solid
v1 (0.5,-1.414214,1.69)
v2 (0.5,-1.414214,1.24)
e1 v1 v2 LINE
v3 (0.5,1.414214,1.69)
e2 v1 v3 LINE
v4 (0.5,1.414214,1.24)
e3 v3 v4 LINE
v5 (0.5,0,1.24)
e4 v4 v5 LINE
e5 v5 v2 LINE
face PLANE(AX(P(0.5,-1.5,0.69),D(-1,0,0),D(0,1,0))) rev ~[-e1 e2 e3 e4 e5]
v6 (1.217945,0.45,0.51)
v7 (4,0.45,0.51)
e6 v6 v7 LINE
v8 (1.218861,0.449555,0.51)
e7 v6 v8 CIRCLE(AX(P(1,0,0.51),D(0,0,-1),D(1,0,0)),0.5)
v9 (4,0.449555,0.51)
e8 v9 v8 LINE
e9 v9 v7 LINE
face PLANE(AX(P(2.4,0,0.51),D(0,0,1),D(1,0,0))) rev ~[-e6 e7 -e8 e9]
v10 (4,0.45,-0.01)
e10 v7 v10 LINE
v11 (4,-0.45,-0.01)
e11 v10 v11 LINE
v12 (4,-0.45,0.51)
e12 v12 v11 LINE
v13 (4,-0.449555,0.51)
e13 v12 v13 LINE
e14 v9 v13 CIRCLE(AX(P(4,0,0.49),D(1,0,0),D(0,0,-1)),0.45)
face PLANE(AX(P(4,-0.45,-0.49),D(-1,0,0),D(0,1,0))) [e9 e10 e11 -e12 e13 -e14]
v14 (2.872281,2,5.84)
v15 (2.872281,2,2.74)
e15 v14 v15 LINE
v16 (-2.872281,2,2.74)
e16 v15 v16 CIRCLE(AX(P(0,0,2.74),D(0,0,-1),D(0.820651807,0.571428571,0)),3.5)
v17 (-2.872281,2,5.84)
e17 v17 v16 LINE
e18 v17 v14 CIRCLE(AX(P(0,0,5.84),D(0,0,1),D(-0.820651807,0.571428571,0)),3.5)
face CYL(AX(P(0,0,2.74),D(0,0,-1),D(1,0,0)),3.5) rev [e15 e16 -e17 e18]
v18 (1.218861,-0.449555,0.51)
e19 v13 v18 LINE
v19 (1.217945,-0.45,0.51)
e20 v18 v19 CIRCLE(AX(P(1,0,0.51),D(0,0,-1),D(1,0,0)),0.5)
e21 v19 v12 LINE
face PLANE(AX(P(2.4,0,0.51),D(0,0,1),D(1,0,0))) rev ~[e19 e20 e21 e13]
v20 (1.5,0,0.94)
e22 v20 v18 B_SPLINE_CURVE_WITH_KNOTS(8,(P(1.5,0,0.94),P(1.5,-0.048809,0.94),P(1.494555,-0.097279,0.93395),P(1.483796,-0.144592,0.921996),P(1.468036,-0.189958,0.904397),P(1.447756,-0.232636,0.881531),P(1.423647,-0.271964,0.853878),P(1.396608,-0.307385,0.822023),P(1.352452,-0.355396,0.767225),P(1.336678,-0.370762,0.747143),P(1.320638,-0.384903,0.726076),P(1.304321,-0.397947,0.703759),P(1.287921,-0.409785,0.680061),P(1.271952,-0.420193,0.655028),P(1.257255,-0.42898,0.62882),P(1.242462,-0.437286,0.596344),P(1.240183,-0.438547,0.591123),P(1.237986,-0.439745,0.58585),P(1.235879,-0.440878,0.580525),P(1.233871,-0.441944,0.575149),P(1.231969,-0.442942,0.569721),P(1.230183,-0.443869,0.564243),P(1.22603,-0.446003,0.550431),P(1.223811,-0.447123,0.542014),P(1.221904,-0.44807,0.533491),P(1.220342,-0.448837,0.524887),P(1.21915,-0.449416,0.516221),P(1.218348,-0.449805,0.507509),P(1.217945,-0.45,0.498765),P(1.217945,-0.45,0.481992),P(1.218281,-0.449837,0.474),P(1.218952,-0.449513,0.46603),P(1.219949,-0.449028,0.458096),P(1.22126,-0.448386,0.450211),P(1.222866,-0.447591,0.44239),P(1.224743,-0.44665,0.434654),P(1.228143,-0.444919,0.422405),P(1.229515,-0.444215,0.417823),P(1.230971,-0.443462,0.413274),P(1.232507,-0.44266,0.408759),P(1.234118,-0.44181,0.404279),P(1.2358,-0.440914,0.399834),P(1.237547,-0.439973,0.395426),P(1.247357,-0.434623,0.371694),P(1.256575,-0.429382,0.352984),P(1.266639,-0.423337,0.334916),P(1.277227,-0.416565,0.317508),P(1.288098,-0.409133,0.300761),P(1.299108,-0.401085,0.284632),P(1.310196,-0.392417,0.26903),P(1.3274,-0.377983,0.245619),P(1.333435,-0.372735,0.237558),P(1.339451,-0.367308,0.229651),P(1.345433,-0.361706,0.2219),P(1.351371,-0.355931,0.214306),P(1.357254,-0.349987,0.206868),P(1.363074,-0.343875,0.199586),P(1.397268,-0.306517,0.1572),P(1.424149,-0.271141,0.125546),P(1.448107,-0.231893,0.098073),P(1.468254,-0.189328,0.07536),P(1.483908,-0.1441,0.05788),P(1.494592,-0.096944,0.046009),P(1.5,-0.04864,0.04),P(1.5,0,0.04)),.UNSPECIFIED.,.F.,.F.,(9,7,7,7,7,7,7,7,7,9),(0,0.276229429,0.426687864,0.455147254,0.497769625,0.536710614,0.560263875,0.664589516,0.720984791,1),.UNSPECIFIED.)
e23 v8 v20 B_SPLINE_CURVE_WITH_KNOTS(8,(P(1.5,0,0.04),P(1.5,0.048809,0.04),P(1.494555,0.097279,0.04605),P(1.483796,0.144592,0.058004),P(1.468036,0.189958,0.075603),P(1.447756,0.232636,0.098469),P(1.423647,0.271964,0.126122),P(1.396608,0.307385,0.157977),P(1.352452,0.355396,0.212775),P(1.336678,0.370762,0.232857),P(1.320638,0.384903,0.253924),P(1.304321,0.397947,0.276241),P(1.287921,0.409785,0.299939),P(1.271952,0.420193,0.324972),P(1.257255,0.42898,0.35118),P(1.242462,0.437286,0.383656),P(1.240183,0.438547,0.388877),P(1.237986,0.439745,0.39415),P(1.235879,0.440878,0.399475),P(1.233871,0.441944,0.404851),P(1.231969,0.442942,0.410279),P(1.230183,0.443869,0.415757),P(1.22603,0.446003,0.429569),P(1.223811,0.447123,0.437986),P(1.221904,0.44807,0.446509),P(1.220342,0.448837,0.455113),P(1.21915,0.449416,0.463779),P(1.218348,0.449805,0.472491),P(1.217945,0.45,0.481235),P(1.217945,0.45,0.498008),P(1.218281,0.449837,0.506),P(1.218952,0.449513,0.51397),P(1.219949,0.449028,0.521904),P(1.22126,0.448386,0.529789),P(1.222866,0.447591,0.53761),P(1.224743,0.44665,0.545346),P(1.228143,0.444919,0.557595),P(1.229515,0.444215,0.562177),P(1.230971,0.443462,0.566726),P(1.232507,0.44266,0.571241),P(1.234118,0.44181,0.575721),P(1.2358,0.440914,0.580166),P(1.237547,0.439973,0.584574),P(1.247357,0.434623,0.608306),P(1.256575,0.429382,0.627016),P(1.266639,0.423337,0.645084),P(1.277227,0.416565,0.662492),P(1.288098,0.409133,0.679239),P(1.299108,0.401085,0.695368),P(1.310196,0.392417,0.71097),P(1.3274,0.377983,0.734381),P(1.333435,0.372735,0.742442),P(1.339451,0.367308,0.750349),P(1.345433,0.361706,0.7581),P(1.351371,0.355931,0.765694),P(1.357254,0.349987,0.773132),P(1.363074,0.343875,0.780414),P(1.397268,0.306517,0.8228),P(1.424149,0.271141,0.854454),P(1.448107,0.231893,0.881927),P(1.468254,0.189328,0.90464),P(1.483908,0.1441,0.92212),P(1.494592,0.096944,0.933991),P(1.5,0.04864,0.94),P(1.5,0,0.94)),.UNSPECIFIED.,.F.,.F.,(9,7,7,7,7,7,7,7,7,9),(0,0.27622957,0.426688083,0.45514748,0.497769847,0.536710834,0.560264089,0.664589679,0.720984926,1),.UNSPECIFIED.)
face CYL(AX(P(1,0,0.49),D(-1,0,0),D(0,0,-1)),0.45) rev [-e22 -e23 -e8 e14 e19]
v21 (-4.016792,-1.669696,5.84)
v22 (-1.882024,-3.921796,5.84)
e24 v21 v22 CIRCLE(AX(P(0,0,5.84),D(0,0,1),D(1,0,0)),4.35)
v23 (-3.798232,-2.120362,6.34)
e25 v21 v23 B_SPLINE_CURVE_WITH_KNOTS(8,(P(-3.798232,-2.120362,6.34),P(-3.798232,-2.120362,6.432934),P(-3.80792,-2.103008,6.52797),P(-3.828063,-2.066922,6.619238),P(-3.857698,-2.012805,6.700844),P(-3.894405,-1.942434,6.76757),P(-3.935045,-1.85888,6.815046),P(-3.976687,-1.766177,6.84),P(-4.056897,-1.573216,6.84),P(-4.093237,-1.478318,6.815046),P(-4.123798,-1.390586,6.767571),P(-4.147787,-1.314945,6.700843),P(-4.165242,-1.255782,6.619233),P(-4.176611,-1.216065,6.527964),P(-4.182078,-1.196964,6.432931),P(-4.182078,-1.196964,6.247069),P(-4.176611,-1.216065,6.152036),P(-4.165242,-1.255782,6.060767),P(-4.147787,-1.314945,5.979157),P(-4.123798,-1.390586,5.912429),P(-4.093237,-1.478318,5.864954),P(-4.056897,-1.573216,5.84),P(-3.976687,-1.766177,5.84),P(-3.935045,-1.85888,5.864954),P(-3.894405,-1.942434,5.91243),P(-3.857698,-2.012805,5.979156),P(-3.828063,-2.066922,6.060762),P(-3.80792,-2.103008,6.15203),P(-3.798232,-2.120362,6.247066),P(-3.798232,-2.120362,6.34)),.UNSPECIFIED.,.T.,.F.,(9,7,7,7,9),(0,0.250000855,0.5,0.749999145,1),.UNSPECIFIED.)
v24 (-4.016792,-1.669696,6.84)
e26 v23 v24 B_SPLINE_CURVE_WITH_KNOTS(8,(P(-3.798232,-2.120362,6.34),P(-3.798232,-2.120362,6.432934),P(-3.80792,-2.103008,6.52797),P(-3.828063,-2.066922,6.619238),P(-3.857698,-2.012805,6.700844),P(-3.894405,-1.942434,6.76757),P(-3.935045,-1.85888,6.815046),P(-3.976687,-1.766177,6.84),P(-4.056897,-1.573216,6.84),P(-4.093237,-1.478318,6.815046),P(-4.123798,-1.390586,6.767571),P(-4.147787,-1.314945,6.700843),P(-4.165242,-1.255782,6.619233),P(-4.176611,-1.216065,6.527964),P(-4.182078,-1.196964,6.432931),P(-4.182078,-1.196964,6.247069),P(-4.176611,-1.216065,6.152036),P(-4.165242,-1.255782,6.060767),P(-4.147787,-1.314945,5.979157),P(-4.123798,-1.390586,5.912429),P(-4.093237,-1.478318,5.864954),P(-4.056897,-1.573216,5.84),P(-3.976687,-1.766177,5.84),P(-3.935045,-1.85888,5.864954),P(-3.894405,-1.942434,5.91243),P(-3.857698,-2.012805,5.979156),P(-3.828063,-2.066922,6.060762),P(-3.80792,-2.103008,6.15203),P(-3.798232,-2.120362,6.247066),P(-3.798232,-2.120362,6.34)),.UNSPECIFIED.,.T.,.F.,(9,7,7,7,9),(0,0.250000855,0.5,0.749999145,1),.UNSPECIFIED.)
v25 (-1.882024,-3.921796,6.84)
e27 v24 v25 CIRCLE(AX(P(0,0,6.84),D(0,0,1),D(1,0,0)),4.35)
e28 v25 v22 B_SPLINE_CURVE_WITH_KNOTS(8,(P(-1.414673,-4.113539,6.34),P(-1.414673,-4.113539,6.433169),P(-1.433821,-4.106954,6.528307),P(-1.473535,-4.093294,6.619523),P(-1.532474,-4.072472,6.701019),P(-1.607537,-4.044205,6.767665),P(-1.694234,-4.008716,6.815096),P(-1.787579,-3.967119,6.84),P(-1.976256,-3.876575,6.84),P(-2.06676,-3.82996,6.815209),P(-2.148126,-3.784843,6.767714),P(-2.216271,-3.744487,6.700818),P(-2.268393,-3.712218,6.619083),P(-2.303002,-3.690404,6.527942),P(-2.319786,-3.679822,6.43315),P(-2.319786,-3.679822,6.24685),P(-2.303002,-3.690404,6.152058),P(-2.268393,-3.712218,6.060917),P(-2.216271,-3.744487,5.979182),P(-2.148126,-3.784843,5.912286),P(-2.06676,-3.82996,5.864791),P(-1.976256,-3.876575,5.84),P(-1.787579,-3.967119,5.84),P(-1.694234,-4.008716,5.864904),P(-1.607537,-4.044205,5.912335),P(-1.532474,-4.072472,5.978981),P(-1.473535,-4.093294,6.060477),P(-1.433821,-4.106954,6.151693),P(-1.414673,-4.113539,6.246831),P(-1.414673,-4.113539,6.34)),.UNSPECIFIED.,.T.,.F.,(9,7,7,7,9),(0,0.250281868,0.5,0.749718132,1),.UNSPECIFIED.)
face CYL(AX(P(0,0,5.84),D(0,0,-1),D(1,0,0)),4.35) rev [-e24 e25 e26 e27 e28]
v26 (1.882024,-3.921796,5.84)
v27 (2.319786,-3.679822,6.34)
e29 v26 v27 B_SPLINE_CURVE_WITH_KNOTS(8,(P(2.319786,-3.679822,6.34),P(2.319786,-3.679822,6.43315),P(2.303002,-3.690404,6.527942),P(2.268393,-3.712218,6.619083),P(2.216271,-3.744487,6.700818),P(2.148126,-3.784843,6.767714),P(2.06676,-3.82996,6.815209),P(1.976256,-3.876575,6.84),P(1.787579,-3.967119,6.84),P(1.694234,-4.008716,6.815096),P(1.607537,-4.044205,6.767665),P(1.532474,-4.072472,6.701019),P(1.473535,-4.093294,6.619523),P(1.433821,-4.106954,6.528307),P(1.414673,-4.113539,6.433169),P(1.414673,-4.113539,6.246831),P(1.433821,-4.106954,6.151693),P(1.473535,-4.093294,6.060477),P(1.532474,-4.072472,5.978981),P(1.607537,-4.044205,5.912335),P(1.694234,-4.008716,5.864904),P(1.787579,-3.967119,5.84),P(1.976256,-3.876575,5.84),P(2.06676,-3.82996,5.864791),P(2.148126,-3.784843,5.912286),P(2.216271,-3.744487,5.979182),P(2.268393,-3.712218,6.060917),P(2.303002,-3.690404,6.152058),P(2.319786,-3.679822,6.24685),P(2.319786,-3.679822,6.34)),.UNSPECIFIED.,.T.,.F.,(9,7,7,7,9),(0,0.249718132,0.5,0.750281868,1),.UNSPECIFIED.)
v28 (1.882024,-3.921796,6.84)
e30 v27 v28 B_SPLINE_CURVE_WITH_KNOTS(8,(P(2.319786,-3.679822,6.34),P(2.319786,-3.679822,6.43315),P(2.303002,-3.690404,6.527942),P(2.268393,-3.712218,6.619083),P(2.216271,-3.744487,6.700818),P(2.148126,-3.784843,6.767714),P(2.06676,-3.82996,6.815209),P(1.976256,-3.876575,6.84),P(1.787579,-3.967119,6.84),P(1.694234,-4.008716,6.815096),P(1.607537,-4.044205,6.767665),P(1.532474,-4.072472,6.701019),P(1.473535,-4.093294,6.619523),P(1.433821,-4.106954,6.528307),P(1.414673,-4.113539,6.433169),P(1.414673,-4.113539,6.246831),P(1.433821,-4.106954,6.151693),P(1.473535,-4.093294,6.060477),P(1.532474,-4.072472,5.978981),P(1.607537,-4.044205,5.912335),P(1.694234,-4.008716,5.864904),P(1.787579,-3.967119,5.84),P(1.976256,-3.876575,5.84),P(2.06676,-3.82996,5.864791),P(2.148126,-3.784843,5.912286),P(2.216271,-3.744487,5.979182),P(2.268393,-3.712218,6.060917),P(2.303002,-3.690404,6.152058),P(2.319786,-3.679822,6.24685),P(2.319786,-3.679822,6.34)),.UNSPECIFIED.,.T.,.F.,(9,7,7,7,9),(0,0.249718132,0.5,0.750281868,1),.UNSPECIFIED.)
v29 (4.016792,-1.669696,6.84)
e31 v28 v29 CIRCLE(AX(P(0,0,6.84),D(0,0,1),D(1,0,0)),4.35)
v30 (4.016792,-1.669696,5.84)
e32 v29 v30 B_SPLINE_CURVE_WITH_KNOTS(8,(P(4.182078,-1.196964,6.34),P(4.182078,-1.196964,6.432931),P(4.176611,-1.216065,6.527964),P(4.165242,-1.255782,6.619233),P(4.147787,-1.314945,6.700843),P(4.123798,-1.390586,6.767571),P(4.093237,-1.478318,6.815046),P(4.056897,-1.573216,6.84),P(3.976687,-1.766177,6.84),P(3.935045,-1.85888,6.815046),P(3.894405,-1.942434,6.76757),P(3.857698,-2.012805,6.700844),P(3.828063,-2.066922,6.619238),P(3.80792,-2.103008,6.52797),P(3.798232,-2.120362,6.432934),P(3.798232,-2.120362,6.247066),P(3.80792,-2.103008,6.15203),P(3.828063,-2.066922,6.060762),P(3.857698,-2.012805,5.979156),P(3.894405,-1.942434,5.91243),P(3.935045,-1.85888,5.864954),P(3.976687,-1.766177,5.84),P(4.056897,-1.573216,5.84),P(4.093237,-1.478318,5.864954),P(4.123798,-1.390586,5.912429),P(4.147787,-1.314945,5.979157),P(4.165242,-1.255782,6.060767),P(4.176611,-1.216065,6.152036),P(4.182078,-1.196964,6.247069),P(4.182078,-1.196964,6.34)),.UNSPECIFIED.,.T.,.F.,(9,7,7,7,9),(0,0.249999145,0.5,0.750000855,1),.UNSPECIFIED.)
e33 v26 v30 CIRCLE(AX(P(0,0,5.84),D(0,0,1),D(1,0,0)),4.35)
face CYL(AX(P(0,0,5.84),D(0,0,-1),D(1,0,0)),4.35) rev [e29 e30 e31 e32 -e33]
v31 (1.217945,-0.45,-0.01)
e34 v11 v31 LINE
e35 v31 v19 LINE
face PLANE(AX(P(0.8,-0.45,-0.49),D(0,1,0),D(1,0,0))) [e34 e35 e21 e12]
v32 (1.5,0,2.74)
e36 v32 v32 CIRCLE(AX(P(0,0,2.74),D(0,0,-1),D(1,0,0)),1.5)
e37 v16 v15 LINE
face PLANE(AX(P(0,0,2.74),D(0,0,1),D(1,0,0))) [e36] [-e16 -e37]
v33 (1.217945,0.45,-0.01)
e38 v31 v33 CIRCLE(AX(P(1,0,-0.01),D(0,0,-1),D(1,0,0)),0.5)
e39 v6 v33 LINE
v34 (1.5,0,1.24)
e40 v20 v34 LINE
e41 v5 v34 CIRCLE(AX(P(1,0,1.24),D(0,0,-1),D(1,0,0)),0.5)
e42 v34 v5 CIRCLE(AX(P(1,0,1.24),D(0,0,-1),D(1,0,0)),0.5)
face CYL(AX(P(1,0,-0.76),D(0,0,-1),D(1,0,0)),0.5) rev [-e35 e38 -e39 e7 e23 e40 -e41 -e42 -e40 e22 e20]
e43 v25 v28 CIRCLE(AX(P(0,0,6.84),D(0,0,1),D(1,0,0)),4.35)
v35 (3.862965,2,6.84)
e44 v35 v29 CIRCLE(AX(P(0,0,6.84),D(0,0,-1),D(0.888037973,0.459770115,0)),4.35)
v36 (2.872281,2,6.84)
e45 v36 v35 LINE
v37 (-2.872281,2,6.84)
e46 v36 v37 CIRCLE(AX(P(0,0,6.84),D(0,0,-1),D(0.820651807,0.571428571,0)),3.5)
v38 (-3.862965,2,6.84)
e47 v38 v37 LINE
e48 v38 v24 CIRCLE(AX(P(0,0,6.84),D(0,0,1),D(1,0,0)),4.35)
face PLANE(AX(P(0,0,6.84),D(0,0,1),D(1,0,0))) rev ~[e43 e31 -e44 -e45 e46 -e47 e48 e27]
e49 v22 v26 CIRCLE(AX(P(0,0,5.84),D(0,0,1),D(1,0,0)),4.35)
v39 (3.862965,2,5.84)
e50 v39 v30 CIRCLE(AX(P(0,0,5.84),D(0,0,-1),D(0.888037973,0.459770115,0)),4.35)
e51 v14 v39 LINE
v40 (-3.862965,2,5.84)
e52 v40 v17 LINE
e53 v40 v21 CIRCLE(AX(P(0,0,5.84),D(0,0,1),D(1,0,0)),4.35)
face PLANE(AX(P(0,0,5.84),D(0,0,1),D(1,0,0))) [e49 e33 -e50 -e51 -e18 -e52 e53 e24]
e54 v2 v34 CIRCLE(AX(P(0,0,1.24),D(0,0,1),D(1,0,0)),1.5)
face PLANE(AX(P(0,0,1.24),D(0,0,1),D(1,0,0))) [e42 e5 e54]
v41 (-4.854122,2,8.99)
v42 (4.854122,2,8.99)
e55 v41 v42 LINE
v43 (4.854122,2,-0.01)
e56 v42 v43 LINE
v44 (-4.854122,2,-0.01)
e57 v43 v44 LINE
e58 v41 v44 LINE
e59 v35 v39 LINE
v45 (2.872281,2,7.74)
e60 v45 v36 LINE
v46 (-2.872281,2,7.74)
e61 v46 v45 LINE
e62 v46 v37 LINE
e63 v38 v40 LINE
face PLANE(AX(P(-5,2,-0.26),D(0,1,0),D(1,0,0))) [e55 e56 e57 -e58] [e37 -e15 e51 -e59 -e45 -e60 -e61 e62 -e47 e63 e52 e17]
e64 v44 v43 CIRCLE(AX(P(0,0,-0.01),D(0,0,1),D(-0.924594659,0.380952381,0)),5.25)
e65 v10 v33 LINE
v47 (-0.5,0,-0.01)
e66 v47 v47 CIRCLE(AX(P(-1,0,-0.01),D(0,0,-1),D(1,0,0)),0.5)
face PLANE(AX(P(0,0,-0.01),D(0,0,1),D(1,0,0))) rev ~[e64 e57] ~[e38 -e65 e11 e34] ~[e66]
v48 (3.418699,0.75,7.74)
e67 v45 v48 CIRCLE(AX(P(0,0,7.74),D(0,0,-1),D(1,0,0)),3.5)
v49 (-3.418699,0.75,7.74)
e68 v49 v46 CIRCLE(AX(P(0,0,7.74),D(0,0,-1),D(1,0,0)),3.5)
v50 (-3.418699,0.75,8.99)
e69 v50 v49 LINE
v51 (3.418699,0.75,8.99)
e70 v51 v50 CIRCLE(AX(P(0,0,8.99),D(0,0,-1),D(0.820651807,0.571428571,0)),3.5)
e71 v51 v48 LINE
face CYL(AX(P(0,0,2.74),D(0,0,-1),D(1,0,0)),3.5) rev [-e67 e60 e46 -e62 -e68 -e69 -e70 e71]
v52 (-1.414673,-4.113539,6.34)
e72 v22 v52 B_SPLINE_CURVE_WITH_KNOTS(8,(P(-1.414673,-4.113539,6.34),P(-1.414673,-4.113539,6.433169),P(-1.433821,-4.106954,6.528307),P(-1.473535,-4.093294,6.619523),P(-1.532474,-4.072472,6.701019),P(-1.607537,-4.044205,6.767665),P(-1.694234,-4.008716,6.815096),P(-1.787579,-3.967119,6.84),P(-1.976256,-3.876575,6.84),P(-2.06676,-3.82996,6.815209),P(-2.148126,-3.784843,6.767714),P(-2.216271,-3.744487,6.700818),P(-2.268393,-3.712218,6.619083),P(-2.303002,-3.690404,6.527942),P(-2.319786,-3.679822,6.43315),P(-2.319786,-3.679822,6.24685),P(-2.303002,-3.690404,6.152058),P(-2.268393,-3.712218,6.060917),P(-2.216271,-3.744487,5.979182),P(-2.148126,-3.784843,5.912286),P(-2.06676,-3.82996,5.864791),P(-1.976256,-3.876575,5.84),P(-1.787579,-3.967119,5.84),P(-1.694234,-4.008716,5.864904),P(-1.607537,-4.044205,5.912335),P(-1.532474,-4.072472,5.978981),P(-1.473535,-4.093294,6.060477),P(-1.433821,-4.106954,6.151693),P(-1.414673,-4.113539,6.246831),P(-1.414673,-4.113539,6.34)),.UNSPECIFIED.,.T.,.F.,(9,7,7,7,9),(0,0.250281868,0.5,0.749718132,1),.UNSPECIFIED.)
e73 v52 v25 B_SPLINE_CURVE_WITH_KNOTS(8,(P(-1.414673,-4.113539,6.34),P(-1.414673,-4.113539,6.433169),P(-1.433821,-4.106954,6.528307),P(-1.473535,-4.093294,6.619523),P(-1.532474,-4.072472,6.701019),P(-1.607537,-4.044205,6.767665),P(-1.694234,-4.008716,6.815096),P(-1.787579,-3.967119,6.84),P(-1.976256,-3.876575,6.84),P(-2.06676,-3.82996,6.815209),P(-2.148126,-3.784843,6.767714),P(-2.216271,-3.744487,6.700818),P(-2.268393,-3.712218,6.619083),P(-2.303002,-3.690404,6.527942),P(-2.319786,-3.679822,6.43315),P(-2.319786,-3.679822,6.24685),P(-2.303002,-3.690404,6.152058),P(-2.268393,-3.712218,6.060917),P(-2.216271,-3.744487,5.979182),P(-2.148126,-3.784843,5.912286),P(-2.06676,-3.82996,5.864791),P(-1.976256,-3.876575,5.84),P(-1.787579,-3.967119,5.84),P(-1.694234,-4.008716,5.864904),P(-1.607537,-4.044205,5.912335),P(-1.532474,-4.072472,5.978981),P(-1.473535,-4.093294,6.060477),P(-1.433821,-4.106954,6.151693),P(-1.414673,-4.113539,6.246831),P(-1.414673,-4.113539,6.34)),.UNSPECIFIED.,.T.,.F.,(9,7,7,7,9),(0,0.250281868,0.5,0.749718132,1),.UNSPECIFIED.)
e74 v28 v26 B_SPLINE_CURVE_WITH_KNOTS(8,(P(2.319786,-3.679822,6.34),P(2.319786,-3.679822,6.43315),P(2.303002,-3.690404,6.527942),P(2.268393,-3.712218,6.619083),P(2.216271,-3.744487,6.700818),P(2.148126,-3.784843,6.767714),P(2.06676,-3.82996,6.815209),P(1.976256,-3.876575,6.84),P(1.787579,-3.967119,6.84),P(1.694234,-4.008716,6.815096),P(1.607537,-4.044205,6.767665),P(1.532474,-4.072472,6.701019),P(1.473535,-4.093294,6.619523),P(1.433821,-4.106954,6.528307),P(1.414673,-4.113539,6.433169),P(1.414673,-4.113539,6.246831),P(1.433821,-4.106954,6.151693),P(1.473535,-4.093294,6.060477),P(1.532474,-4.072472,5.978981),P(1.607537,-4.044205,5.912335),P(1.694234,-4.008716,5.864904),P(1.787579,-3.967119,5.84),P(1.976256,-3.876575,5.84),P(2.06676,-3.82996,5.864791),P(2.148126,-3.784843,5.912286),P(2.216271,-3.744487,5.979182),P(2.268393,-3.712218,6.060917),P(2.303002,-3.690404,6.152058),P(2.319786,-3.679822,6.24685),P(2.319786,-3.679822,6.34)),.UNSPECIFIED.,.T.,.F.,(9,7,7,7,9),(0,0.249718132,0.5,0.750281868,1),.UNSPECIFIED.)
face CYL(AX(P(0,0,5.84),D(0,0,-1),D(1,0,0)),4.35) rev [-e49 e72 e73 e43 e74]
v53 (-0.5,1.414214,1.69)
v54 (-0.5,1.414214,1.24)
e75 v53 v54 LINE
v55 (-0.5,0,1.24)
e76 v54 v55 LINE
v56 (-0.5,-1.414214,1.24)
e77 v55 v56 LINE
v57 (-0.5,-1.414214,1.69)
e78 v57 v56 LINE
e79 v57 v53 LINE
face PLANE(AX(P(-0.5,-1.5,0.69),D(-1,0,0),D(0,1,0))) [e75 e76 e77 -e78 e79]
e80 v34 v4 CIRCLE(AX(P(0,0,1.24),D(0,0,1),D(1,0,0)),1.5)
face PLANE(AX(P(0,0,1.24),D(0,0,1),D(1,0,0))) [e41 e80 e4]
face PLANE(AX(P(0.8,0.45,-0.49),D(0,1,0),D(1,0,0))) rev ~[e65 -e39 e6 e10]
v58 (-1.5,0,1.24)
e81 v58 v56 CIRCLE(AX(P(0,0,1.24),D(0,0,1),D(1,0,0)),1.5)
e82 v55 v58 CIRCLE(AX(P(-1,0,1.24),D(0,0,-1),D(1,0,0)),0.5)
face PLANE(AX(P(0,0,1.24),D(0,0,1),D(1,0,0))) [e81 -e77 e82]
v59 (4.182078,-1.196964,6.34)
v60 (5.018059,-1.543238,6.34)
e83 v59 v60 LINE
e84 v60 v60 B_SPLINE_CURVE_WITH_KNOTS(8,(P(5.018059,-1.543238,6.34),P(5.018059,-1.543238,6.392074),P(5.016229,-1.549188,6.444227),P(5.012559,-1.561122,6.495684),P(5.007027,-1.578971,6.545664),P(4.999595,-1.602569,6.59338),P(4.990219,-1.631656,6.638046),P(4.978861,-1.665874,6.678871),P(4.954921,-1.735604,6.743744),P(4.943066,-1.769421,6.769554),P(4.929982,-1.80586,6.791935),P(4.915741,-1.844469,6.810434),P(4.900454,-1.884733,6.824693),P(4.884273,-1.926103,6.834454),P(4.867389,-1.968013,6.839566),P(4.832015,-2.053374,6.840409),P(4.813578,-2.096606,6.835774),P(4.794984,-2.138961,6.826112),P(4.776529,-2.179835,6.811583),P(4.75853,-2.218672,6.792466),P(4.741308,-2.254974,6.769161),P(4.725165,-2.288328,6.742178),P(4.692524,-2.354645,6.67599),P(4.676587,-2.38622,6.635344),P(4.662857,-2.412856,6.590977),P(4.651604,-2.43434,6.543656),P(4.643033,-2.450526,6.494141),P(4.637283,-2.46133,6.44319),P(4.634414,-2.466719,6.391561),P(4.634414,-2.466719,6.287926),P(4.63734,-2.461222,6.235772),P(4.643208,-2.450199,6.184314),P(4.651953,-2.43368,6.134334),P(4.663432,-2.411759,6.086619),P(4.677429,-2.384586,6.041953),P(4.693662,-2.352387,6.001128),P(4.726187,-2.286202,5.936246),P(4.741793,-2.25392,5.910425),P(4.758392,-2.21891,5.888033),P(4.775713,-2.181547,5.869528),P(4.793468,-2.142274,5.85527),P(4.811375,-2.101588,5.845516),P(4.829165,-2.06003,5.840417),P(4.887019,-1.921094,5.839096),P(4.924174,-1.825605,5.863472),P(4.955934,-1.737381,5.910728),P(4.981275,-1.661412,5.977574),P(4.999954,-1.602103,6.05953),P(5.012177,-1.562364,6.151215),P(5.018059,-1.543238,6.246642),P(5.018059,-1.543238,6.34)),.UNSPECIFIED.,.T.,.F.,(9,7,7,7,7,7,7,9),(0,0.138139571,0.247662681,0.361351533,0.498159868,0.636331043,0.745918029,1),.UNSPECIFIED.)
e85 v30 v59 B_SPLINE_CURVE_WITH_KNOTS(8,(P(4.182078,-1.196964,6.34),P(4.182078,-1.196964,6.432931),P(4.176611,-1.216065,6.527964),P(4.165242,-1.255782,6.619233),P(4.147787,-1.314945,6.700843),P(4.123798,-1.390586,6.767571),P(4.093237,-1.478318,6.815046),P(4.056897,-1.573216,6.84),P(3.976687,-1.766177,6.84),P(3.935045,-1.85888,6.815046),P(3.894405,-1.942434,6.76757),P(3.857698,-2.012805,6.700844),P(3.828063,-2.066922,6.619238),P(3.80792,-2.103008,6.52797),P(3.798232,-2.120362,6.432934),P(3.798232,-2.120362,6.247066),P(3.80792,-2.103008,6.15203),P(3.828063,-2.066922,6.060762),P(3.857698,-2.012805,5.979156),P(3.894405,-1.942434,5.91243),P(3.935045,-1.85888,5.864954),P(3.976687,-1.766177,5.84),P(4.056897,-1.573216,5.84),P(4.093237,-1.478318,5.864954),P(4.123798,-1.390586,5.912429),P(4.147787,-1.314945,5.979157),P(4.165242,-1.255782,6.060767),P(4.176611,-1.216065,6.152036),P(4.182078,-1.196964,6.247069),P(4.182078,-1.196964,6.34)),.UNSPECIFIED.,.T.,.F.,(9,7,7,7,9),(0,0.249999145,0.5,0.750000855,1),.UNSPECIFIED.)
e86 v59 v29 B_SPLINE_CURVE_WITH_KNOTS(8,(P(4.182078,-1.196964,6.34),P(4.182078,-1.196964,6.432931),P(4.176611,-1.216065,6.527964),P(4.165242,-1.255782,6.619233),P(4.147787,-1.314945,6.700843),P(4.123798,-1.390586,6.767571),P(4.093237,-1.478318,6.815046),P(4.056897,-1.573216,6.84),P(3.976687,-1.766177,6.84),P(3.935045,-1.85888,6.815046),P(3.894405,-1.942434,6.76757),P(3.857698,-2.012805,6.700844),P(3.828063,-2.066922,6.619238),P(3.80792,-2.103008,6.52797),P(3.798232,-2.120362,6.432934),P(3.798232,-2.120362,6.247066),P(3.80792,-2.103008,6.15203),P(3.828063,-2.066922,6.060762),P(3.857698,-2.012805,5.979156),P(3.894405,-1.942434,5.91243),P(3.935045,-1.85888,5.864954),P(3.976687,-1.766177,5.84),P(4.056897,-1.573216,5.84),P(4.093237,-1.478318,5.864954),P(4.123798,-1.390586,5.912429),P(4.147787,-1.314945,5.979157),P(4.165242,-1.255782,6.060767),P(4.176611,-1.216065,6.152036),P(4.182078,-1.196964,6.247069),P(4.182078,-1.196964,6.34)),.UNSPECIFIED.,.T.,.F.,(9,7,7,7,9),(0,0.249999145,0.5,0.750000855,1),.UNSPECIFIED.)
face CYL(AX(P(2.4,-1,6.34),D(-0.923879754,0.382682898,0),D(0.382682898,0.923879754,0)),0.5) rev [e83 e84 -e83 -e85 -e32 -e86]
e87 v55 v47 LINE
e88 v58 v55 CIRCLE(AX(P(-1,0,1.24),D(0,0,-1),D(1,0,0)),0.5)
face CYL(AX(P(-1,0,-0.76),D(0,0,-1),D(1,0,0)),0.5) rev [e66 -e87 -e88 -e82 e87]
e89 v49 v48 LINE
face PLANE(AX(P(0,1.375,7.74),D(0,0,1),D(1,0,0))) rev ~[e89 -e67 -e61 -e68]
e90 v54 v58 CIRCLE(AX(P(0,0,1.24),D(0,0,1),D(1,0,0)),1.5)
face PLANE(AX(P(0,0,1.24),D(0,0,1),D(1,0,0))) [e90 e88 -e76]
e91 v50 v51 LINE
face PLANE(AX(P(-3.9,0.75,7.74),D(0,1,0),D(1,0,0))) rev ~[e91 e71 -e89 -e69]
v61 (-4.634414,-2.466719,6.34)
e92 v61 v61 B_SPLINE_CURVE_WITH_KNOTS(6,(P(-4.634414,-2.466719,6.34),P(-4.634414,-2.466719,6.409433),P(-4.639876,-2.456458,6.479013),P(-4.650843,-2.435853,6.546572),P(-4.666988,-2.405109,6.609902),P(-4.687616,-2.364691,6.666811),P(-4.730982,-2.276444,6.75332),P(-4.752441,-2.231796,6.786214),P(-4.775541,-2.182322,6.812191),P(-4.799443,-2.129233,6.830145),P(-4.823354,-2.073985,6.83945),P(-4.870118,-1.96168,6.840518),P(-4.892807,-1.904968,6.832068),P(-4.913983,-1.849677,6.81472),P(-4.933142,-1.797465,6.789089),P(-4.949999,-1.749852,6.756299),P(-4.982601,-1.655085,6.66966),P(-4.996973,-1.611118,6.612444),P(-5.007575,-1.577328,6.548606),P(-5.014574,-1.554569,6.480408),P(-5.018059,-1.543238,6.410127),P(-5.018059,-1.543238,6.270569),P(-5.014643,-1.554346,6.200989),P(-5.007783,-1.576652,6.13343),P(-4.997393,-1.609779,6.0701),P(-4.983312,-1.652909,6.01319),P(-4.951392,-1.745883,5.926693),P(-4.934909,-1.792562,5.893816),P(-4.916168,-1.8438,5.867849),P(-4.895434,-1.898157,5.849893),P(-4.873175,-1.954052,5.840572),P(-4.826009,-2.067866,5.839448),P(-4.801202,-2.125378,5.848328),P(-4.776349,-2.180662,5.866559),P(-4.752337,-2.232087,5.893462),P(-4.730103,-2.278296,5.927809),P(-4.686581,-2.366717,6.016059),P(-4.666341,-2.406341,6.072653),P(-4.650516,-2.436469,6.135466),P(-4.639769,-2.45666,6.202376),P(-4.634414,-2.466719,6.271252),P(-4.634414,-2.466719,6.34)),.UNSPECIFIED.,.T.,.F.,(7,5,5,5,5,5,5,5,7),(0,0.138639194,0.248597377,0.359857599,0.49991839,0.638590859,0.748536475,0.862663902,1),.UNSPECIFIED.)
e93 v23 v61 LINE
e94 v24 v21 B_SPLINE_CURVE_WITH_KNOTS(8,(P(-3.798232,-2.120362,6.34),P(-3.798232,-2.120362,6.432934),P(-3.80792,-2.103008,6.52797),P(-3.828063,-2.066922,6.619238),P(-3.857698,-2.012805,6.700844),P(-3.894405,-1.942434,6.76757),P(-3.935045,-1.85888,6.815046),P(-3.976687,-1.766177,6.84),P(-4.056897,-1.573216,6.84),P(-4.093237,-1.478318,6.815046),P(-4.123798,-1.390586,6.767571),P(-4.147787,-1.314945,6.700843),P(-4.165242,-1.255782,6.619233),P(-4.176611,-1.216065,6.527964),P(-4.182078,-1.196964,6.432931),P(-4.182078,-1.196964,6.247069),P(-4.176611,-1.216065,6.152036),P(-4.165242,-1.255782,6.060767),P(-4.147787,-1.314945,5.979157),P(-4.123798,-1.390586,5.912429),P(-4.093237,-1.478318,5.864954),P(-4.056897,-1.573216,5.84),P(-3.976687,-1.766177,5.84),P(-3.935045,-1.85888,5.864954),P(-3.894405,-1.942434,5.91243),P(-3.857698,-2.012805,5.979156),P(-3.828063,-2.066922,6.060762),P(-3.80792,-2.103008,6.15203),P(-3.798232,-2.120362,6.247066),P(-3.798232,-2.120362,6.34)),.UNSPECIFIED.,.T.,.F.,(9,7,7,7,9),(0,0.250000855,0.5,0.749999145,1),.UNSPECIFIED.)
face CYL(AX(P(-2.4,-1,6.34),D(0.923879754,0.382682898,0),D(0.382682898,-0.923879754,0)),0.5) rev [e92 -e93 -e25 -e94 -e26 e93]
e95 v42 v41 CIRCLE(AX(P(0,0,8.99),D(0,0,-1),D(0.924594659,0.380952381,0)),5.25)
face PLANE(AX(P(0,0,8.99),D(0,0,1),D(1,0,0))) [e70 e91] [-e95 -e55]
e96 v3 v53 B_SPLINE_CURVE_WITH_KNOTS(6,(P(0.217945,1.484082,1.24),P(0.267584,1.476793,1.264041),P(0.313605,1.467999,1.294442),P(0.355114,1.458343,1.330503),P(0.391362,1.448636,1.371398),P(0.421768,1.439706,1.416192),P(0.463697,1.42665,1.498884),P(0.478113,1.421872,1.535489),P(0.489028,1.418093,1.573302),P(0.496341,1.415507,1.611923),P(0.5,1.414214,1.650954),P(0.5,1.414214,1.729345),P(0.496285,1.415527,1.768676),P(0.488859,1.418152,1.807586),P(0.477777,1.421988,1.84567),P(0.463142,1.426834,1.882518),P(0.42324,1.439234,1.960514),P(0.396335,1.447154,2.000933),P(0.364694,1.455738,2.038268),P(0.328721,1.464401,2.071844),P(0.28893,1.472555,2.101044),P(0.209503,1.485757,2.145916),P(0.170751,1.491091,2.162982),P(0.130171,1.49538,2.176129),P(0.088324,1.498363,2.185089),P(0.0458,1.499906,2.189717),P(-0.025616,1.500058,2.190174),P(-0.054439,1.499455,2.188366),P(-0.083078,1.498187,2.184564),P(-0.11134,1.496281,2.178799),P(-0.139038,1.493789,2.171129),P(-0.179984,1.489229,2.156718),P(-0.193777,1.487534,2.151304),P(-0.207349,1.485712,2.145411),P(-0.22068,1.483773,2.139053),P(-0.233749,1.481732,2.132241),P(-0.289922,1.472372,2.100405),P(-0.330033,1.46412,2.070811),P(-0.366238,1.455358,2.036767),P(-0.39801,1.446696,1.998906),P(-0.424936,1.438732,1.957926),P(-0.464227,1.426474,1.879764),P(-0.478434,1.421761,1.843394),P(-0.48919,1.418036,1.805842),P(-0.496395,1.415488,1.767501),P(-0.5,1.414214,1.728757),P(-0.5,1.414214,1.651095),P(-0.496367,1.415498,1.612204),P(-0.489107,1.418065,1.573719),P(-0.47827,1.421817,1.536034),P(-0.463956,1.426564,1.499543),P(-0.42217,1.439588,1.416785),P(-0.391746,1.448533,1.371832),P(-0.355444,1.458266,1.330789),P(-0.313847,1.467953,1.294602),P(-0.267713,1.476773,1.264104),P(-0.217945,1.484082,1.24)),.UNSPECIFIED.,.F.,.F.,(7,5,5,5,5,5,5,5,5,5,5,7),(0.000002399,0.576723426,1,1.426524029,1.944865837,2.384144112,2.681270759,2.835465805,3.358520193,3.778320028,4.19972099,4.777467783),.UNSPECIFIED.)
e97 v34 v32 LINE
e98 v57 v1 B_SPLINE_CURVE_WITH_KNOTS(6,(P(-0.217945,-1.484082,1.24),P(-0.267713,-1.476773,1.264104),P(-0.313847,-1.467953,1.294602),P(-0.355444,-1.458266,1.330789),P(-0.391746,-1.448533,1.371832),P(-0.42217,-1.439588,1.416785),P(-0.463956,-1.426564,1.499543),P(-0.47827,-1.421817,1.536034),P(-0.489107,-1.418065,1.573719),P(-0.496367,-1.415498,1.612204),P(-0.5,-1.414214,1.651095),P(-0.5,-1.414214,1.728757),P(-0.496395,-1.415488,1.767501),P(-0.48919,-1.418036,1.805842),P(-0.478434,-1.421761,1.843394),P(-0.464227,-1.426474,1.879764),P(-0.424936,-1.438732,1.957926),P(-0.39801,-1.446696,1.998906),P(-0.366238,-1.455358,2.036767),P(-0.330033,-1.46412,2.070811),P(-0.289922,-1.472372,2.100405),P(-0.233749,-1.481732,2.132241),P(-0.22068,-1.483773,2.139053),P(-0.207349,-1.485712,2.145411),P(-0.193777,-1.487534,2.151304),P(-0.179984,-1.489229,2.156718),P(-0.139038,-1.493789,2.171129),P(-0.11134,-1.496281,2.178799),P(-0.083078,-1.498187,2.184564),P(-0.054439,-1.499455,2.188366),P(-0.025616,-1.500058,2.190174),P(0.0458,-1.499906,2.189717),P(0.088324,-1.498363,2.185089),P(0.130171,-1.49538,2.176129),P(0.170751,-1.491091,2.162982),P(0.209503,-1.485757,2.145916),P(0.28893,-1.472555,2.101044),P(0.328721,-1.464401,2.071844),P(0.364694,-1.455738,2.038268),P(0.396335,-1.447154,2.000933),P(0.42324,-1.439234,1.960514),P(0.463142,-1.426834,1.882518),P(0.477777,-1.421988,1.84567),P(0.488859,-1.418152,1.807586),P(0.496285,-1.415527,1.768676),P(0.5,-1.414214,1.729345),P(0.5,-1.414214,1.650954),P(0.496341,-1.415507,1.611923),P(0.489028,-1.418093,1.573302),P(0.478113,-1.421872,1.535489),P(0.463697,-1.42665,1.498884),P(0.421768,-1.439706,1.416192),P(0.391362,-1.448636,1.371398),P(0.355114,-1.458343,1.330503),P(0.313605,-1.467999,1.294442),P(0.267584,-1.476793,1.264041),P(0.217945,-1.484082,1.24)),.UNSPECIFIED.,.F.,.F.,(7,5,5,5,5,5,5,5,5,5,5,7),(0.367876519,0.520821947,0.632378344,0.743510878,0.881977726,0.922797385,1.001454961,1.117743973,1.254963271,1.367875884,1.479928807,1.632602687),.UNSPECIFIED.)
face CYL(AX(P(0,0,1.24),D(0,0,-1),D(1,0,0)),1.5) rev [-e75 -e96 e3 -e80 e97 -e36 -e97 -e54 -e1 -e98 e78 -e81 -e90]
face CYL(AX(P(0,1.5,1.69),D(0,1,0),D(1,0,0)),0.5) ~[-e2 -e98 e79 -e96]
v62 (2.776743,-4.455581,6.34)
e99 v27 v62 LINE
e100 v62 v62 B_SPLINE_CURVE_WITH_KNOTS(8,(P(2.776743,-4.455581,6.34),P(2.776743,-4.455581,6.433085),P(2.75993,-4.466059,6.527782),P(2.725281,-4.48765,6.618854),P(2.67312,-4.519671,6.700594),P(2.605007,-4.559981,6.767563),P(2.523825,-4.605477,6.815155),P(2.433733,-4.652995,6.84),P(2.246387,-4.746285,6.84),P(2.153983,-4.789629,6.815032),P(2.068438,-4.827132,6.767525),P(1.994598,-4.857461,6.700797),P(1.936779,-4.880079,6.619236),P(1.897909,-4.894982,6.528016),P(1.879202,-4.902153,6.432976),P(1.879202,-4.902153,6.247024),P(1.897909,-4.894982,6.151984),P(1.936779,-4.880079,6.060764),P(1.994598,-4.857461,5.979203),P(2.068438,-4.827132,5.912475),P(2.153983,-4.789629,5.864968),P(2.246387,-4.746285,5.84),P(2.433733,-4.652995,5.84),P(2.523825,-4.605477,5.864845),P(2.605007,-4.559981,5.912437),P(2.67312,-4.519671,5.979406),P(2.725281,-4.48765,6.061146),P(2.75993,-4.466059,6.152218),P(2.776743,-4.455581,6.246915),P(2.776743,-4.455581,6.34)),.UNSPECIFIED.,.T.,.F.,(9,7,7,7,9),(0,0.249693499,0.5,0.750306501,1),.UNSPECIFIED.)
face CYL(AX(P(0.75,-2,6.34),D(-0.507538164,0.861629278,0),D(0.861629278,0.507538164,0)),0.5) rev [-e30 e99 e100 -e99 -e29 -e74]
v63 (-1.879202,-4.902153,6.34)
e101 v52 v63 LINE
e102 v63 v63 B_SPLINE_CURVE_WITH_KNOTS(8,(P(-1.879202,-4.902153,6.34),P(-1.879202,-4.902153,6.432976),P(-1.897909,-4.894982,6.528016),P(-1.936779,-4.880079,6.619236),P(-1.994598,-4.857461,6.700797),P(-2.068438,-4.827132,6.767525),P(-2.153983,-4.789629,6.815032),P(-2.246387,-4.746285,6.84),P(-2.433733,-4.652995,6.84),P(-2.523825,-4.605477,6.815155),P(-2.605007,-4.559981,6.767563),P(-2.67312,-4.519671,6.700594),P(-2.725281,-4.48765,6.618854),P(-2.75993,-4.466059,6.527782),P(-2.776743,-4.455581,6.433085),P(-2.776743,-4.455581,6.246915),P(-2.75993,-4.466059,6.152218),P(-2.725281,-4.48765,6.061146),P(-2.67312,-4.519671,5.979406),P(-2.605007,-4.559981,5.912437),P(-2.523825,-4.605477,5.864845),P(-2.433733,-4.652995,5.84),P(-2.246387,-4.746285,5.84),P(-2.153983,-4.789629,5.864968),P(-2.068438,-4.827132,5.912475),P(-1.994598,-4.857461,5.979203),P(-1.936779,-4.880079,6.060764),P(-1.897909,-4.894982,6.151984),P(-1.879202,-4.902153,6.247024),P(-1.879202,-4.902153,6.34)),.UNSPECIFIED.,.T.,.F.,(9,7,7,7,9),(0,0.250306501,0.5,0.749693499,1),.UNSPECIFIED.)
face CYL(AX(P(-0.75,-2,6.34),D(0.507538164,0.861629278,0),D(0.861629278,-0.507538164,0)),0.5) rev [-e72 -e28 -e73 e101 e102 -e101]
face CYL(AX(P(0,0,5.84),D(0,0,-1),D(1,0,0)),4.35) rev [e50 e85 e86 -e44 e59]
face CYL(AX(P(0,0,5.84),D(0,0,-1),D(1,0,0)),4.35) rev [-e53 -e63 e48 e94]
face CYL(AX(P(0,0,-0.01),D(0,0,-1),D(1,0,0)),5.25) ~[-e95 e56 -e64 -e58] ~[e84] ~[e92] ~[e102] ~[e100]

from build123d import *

# Parameters (mm, degrees)
CYLINDER006_R     = 5.25
CYLINDER006_DEPTH = 9
BOX_W             = 10
BOX_H             = 4
BOX_DEPTH         = 10
CYLINDER007_R     = 3.5
CYLINDER007_DEPTH = 6.5
BOX001_W          = 7.8
BOX001_H          = 1.25
BOX001_DEPTH      = 1.25
CYLINDER008_R     = 0.5
CYLINDER008_DEPTH = 4
CYLINDER009_R     = 0.5
CYLINDER009_DEPTH = 4
CYLINDER012_R     = 0.5
CYLINDER012_DEPTH = 3.5
CYLINDER013_R     = 0.5
CYLINDER013_DEPTH = 4
CYLINDER014_R     = 0.5
CYLINDER014_DEPTH = 4
CYLINDER015_R     = 0.5
CYLINDER015_DEPTH = 3.5
CYLINDER020_R     = 1.5
CYLINDER020_DEPTH = 3
CYLINDER021_R     = 0.45
CYLINDER021_DEPTH = 3
BOX002_W          = 3.2
BOX002_H          = 0.9
BOX002_DEPTH      = 1
CYLINDER022_R     = 0.5
CYLINDER022_DEPTH = 3
BOX003_W          = 1
BOX003_H          = 3
BOX003_DEPTH      = 1
CYLINDER023_R     = 4.35
CYLINDER023_DEPTH = 1


with BuildPart() as part:
    # Cylinder006 → Cylinder006 (join)
    with BuildSketch(Plane.XY.offset(-1.25)):
        Circle(CYLINDER006_R)
    extrude(amount=CYLINDER006_DEPTH)

    # Box → Box (cut)
    with BuildSketch(Plane(origin=(-5, 2, -1.5), x_dir=(1, 0, 0), z_dir=(0, 0, 1))):
        with Locations((5, 2)):
            Rectangle(BOX_W, BOX_H)
    extrude(amount=BOX_DEPTH, mode=Mode.SUBTRACT)

    # Cylinder007 → Cylinder007 (cut)
    with BuildSketch(Plane.XY.offset(1.5)):
        Circle(CYLINDER007_R)
    extrude(amount=CYLINDER007_DEPTH, mode=Mode.SUBTRACT)

    # Box001 → Box001 (join)
    with BuildSketch(Plane(origin=(-3.9, 0.75, 6.5), x_dir=(1, 0, 0), z_dir=(0, 0, 1))):
        with Locations((3.9, 0.625)):
            Rectangle(BOX001_W, BOX001_H)
    extrude(amount=BOX001_DEPTH)

    # Cylinder008 → Cylinder008 (cut)
    with BuildSketch(Plane(origin=(-1, 0, -2), x_dir=(1, 0, 0), z_dir=(0, 0, 1))):
        Circle(CYLINDER008_R)
    extrude(amount=CYLINDER008_DEPTH, mode=Mode.SUBTRACT)

    # Cylinder009 → Cylinder009 (cut)
    with BuildSketch(Plane(origin=(1, 0, -2), x_dir=(1, 0, 0), z_dir=(0, 0, 1))):
        Circle(CYLINDER009_R)
    extrude(amount=CYLINDER009_DEPTH, mode=Mode.SUBTRACT)

    # Cylinder012 → Cylinder012 (cut)
    with BuildSketch(Plane(origin=(-2.4, -1, 5.1), x_dir=(0.382683, -0.92388, 0), z_dir=(-0.92388, -0.382683, 0))):
        Circle(CYLINDER012_R)
    extrude(amount=CYLINDER012_DEPTH, mode=Mode.SUBTRACT)

    # Cylinder013 → Cylinder013 (cut)
    with BuildSketch(Plane(origin=(-0.75, -2, 5.1), x_dir=(0.861629, -0.507538, 0), z_dir=(-0.507538, -0.861629, 0))):
        Circle(CYLINDER013_R)
    extrude(amount=CYLINDER013_DEPTH, mode=Mode.SUBTRACT)

    # Cylinder014 → Cylinder014 (cut)
    with BuildSketch(Plane(origin=(0.75, -2, 5.1), x_dir=(0.861629, 0.507538, 0), z_dir=(0.507538, -0.861629, 0))):
        Circle(CYLINDER014_R)
    extrude(amount=CYLINDER014_DEPTH, mode=Mode.SUBTRACT)

    # Cylinder015 → Cylinder015 (cut)
    with BuildSketch(Plane(origin=(2.4, -1, 5.1), x_dir=(0.382683, 0.92388, 0), z_dir=(0.92388, -0.382683, 0))):
        Circle(CYLINDER015_R)
    extrude(amount=CYLINDER015_DEPTH, mode=Mode.SUBTRACT)

    # Cylinder020 → Cylinder020 (cut)
    with BuildSketch(Plane.XY):
        Circle(CYLINDER020_R)
    extrude(amount=CYLINDER020_DEPTH, mode=Mode.SUBTRACT)

    # Cylinder021 → Cylinder021 (cut)
    with BuildSketch(Plane(origin=(1, 0, -0.75), x_dir=(0, 0, -1), z_dir=(1, 0, 0))):
        Circle(CYLINDER021_R)
    extrude(amount=CYLINDER021_DEPTH, mode=Mode.SUBTRACT)

    # Box002 → Box002 (cut)
    with BuildSketch(Plane(origin=(0.8, -0.45, -1.73), x_dir=(1, 0, 0), z_dir=(0, 0, 1))):
        with Locations((1.6, 0.45)):
            Rectangle(BOX002_W, BOX002_H)
    extrude(amount=BOX002_DEPTH, mode=Mode.SUBTRACT)

    # Cylinder022 → Cylinder022 (join)
    with BuildSketch(Plane(origin=(0, 1.5, 0.45), x_dir=(1, 0, 0), z_dir=(0, -1, 0))):
        Circle(CYLINDER022_R)
    extrude(amount=CYLINDER022_DEPTH)

    # Box003 → Box003 (join)
    with BuildSketch(Plane(origin=(-0.5, -1.5, -0.55), x_dir=(1, 0, 0), z_dir=(0, 0, 1))):
        with Locations((0.5, 1.5)):
            Rectangle(BOX003_W, BOX003_H)
    extrude(amount=BOX003_DEPTH)

    # Cylinder023 → Cylinder023 (cut)
    with BuildSketch(Plane.XY.offset(4.6)):
        Circle(CYLINDER023_R)
    extrude(amount=CYLINDER023_DEPTH, mode=Mode.SUBTRACT)


with BuildPart() as part_1:
    # Body001 placement: moved
    add(part.part.moved(Location((0, 0, 1.24))))


solid = part_1.part
